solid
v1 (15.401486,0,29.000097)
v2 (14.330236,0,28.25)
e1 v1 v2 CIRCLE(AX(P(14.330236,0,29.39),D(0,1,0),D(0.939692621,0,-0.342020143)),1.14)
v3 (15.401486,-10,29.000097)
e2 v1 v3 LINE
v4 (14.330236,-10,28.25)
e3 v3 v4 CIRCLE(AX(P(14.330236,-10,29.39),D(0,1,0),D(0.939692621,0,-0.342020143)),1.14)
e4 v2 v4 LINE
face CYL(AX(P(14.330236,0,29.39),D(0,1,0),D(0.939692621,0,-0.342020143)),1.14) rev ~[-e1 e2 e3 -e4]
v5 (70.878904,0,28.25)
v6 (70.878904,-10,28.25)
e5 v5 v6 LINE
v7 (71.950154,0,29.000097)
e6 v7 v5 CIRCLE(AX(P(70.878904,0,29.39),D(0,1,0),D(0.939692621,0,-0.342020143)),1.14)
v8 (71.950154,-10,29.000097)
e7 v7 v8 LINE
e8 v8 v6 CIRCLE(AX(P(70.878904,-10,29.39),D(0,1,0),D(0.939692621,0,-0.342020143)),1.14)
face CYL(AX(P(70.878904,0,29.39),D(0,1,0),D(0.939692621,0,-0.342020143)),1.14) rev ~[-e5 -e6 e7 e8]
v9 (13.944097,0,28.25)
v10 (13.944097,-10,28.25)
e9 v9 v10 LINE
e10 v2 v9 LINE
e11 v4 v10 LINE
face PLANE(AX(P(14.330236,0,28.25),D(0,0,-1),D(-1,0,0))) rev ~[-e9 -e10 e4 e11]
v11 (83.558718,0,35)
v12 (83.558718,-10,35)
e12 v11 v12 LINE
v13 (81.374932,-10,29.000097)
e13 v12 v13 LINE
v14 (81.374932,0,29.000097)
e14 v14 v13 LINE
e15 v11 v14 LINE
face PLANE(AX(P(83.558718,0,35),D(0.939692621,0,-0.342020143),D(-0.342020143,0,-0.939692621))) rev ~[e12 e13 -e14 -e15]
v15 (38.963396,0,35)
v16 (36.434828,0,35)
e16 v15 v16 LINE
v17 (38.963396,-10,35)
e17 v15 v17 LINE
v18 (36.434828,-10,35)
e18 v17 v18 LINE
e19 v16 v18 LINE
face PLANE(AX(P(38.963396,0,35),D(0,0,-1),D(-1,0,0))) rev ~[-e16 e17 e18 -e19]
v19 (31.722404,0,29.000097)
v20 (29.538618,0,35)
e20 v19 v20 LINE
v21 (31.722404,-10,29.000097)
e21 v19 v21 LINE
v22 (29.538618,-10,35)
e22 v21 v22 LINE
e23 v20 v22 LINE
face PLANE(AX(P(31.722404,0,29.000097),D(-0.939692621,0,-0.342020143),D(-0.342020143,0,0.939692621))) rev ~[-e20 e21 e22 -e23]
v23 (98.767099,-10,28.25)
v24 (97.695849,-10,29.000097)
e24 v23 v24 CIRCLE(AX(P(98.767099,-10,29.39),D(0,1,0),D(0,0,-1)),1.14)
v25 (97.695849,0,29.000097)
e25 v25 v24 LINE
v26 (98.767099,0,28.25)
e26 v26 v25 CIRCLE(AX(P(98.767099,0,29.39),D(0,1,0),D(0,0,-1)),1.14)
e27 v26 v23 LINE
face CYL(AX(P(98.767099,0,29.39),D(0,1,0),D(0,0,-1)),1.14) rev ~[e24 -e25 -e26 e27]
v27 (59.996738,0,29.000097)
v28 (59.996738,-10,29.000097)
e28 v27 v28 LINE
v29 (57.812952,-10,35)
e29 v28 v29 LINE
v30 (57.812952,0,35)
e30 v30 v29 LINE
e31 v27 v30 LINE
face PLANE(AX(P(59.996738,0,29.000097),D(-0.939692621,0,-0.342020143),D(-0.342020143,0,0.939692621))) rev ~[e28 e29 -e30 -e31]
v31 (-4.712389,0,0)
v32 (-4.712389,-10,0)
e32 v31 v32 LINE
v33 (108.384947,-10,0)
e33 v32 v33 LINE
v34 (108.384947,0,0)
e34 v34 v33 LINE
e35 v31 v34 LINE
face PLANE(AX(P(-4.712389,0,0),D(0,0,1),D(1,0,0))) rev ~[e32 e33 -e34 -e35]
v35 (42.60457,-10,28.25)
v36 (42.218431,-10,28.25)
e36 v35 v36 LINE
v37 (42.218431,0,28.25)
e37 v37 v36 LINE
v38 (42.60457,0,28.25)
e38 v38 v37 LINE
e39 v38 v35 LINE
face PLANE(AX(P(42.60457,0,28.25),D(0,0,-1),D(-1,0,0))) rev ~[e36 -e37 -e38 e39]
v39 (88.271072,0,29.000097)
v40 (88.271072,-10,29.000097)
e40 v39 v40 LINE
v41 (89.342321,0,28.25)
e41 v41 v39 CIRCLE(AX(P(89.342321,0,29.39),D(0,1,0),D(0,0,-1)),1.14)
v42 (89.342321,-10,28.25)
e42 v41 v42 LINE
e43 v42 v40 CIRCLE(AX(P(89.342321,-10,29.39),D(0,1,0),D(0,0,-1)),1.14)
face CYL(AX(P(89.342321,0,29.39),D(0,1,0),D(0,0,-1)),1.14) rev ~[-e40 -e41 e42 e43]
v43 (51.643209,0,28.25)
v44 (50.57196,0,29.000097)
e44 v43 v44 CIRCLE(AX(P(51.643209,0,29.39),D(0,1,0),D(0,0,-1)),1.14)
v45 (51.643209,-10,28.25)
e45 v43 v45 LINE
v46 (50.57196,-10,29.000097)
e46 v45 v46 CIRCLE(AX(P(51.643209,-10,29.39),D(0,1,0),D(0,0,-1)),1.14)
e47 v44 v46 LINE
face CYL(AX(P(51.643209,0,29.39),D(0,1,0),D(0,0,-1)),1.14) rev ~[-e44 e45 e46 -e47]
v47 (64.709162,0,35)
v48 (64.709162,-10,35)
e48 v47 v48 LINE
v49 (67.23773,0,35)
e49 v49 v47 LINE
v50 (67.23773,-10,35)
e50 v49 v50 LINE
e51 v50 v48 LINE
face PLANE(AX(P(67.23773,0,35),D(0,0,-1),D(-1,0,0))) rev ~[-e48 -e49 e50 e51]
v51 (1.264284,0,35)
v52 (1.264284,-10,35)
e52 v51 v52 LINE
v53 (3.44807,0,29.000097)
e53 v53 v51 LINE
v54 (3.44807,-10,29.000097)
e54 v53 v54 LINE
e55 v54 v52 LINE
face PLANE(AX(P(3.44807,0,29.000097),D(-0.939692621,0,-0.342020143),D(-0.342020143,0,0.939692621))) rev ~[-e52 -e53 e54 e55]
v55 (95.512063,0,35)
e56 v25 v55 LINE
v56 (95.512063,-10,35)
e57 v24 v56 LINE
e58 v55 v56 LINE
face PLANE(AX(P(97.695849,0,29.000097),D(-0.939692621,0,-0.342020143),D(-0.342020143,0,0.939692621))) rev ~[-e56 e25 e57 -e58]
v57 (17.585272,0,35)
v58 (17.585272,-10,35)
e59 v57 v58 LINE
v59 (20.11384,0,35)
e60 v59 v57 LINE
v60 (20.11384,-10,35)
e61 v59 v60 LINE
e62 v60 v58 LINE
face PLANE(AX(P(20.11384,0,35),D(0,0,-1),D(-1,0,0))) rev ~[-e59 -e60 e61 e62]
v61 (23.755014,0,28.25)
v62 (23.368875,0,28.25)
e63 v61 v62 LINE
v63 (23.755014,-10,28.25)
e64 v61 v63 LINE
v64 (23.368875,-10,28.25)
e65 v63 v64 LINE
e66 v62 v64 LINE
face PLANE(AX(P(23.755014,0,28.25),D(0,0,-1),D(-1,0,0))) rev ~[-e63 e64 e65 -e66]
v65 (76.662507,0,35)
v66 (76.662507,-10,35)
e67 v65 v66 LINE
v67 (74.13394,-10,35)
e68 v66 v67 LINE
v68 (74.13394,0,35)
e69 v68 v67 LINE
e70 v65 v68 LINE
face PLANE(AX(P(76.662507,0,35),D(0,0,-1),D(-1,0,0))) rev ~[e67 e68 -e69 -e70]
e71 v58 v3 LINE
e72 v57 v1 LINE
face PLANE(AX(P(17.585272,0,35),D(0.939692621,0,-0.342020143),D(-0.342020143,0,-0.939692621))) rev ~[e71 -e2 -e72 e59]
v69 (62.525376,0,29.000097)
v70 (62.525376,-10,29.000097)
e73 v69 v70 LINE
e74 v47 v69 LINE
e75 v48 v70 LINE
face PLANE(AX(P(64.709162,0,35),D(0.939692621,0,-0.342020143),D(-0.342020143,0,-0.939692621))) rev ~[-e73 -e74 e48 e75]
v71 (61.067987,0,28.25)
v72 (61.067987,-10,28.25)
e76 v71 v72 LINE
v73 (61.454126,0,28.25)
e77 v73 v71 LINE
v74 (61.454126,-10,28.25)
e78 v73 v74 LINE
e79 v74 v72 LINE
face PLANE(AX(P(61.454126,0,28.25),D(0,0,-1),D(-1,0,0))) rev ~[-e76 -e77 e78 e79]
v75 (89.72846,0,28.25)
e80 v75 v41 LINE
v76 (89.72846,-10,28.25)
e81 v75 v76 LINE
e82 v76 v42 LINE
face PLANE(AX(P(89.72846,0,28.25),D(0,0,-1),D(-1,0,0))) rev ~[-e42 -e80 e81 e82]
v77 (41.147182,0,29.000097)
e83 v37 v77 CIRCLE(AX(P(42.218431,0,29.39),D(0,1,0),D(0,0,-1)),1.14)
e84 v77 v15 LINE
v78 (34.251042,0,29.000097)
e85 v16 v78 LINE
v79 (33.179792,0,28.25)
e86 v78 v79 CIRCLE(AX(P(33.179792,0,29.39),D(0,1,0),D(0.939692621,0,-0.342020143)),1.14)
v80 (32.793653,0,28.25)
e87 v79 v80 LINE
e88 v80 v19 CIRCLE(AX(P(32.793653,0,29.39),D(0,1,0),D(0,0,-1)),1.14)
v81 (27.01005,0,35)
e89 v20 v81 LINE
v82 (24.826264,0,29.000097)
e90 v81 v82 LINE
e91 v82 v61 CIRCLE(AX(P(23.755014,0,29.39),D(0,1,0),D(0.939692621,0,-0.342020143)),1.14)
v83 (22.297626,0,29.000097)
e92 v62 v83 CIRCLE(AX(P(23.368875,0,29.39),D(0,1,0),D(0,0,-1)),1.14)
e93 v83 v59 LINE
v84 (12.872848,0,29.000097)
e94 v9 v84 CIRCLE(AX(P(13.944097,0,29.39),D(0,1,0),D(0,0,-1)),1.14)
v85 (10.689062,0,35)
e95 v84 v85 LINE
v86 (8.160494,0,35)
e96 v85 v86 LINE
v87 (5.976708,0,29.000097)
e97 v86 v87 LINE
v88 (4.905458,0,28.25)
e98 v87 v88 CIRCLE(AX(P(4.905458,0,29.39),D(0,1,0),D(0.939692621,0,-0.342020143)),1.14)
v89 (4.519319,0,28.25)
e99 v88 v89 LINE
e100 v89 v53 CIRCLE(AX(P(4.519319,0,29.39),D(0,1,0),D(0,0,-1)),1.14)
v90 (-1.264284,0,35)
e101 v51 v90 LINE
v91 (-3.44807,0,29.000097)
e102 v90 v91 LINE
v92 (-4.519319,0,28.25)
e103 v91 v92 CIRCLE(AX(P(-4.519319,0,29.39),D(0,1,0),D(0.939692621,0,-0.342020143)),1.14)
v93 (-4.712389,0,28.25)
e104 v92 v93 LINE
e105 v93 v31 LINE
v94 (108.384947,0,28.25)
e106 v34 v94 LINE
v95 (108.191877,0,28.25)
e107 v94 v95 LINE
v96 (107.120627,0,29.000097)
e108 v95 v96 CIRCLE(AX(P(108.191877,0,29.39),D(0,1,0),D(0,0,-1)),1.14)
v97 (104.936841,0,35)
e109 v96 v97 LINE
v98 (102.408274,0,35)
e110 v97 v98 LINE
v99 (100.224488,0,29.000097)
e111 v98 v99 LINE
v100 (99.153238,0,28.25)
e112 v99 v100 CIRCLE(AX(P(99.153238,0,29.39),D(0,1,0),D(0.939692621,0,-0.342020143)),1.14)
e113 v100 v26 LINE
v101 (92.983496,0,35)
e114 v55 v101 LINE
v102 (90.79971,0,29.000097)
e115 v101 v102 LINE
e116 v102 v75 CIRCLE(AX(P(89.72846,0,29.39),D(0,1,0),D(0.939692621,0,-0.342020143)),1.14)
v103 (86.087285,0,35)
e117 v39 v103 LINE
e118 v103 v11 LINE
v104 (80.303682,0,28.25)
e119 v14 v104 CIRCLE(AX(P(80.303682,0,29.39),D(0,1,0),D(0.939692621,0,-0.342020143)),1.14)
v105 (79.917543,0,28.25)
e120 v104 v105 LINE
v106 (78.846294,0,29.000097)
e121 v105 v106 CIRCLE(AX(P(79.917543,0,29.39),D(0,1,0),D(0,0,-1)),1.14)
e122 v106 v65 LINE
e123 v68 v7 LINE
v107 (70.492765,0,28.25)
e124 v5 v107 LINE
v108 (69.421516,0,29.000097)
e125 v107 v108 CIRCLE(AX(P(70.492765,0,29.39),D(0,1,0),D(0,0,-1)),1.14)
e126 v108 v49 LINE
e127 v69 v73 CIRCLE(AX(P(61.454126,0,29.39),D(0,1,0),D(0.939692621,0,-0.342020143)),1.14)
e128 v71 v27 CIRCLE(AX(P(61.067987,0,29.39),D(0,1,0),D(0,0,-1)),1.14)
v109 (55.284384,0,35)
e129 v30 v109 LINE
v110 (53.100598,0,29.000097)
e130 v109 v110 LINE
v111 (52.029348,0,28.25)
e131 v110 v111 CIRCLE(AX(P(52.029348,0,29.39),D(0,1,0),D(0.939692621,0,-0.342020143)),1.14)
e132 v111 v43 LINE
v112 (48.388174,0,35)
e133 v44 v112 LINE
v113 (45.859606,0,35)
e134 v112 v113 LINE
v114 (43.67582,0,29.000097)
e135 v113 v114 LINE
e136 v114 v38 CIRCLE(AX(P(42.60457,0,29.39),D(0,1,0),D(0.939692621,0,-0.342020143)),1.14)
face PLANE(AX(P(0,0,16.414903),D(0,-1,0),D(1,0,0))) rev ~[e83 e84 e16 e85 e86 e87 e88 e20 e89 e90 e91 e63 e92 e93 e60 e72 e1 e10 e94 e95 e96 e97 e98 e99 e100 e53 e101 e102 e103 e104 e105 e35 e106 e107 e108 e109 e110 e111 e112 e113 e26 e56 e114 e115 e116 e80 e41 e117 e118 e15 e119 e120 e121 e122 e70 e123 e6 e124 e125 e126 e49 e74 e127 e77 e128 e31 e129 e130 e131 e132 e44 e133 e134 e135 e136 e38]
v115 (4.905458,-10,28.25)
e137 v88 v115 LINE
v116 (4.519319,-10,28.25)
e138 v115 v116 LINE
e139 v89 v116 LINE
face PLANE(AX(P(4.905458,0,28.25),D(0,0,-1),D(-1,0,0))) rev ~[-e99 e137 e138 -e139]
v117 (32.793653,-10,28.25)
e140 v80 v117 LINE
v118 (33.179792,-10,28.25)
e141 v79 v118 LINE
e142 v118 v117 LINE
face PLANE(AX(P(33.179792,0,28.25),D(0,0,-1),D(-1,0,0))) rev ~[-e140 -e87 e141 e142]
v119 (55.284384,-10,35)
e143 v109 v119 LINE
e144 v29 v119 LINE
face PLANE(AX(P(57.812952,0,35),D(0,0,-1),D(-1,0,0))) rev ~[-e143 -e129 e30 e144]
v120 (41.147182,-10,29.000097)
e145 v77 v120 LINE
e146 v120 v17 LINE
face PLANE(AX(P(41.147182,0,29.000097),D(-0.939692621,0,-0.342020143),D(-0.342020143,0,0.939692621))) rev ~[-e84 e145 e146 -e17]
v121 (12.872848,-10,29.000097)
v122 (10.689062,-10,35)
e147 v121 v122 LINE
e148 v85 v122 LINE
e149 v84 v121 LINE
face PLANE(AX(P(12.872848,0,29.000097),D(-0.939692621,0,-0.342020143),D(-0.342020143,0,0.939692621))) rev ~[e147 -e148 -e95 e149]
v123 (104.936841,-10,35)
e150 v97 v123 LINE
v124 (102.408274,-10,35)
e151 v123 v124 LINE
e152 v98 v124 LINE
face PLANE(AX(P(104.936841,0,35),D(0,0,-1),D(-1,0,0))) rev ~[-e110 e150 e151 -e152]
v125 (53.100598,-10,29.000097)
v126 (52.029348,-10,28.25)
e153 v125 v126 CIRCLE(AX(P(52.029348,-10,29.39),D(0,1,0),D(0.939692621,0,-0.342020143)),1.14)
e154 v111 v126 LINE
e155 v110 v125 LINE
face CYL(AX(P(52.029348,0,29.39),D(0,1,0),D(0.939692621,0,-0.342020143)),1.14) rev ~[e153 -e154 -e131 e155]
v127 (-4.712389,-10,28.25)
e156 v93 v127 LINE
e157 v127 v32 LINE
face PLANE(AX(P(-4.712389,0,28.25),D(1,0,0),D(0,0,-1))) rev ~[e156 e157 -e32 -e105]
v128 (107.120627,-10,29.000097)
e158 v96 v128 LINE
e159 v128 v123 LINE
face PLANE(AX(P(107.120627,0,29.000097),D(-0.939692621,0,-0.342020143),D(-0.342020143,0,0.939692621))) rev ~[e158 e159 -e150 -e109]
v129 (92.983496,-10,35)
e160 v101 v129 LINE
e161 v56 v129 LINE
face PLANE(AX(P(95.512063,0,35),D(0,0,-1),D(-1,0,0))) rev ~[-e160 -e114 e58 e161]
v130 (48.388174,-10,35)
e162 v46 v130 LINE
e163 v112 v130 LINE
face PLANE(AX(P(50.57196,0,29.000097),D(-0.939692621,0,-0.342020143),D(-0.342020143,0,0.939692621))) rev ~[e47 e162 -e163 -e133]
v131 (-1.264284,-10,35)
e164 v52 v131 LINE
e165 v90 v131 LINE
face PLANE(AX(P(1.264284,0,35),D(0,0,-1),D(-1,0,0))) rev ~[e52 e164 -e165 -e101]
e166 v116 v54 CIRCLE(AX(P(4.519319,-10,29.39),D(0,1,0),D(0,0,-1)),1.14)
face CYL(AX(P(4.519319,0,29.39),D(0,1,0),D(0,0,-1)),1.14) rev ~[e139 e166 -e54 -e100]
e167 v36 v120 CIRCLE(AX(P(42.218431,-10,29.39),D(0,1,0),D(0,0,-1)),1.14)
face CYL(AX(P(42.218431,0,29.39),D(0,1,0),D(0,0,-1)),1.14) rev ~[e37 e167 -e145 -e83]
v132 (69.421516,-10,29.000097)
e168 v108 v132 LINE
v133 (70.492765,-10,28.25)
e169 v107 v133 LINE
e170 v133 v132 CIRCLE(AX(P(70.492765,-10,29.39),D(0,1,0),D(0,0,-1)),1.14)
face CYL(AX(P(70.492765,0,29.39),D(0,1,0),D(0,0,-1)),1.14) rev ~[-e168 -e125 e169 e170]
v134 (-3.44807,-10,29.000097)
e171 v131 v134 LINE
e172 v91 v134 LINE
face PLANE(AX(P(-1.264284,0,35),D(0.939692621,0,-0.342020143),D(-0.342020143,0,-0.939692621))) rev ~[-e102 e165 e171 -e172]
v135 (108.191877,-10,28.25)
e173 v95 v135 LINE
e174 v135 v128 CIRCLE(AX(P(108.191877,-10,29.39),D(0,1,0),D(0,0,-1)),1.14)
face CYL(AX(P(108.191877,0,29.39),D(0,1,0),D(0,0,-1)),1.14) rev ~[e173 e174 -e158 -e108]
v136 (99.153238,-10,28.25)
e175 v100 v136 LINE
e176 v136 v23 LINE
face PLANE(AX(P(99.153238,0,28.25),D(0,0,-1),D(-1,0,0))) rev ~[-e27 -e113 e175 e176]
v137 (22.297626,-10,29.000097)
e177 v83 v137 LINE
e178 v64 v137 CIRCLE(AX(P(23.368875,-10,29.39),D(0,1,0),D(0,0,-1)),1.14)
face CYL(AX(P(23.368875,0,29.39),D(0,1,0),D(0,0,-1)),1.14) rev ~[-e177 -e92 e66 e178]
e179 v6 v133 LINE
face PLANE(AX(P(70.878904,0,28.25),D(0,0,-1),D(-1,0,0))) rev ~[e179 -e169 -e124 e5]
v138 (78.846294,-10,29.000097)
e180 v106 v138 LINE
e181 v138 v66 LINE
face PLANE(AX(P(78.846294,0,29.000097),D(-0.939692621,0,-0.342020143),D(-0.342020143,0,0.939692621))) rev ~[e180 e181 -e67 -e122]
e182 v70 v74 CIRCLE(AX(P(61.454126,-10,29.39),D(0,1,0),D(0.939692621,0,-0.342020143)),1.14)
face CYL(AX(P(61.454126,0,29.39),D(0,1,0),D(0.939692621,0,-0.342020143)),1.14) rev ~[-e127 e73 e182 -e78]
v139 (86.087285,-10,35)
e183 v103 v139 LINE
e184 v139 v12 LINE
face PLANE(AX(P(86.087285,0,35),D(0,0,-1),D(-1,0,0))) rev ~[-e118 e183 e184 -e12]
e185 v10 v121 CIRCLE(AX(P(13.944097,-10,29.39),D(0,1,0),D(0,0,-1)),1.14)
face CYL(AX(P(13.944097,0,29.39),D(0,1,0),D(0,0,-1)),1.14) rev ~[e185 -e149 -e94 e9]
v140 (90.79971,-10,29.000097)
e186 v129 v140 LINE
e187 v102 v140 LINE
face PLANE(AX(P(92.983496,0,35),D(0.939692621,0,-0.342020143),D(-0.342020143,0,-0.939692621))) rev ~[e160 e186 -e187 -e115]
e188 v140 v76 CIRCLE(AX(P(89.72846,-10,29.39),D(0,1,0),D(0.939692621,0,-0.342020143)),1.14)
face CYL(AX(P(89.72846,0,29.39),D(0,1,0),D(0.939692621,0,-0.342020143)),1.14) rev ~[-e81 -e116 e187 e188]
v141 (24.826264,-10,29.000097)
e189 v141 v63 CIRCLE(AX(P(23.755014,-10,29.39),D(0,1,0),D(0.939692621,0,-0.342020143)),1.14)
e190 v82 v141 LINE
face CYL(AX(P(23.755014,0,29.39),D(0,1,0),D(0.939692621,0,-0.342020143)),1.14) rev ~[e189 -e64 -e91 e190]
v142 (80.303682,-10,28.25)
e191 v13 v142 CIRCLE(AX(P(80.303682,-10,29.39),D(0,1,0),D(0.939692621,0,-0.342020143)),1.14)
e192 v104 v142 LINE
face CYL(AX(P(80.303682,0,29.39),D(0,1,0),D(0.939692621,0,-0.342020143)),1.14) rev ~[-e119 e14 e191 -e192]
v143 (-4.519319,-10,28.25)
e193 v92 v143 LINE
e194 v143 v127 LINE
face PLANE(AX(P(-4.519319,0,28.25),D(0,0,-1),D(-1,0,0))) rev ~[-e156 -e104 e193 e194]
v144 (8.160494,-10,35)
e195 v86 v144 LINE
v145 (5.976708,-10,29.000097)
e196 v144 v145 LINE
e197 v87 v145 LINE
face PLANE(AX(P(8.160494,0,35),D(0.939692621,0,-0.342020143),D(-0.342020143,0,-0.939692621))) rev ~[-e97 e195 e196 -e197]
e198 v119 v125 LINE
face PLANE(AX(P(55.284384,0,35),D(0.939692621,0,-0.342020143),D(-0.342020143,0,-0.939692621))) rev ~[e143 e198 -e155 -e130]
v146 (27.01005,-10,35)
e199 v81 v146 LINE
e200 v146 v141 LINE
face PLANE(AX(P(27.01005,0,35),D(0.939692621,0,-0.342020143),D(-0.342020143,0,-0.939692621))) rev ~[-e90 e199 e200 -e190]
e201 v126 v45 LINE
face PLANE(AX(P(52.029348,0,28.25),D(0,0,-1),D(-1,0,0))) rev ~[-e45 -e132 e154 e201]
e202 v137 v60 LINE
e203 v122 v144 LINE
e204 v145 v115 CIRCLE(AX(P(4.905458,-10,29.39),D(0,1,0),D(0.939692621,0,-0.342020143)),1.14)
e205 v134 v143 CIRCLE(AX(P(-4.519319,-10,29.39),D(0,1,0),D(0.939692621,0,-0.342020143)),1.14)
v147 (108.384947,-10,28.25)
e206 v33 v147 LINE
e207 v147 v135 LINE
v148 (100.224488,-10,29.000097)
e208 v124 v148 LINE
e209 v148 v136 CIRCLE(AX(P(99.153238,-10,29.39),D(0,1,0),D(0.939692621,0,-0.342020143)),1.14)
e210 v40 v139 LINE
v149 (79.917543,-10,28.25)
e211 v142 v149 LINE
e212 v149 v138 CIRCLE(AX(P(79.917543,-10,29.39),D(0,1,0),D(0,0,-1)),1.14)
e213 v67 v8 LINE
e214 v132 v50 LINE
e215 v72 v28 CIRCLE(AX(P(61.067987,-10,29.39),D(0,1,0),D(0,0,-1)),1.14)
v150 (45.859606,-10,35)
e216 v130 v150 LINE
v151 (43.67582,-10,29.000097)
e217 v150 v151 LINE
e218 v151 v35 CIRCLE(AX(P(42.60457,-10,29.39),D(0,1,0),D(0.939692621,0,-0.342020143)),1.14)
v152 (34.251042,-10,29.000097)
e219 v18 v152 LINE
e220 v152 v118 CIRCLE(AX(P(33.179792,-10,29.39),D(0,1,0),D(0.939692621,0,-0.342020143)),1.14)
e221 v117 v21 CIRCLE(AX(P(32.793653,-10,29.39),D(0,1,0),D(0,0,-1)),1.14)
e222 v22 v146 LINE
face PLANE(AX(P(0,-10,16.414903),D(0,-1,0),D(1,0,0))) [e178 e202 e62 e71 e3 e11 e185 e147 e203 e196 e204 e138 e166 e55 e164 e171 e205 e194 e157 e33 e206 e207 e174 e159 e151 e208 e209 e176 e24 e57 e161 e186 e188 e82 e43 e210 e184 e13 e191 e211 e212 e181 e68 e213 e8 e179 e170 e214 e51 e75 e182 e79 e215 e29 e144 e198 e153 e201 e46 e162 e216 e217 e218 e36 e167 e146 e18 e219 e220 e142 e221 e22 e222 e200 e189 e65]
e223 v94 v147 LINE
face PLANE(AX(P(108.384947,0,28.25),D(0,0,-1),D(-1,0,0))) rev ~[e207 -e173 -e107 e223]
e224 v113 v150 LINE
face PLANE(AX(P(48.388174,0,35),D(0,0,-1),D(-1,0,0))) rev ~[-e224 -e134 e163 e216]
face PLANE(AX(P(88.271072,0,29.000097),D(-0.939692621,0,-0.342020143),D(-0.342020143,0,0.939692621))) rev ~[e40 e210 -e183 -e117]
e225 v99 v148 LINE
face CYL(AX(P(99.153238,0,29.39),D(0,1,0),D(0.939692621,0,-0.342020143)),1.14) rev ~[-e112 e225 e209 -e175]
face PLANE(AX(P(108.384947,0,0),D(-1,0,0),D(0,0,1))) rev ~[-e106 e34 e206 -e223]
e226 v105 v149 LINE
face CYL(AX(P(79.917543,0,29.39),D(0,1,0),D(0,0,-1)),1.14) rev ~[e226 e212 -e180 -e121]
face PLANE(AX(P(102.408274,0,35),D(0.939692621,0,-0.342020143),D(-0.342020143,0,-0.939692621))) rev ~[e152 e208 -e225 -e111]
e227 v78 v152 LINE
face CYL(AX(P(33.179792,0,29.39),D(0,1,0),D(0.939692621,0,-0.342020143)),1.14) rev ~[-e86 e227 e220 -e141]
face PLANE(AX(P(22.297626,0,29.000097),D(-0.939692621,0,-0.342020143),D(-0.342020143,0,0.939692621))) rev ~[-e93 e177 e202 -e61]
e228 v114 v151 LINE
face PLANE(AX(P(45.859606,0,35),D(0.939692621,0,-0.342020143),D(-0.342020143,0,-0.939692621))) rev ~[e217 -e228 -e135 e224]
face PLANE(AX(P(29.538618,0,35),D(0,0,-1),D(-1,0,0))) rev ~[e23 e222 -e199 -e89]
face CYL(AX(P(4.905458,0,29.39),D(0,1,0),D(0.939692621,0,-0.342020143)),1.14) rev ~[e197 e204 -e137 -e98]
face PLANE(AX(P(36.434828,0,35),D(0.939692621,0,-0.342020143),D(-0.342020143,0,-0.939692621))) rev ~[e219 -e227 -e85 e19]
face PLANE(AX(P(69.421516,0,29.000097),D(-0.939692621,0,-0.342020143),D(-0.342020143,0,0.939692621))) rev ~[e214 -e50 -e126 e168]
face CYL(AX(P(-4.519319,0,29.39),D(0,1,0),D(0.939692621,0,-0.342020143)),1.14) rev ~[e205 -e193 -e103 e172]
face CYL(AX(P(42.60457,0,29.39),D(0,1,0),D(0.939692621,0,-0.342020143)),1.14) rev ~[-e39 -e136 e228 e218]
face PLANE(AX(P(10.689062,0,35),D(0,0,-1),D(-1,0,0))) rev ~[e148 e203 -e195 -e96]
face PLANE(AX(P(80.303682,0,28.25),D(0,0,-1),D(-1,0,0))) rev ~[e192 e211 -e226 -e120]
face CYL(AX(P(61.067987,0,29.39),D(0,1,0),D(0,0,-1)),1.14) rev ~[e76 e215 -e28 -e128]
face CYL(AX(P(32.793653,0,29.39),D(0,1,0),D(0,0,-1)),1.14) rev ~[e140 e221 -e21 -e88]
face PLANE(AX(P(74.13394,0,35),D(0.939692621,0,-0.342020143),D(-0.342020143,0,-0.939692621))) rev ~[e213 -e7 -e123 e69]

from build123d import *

# Parameters (mm, degrees)
F2_DEPTH = 10


with BuildPart() as f2:
    # F1 (on Front) → F2 (new body)
    with BuildSketch(Plane.XZ):
        with BuildLine():
            Line((3.4480698746, 29.0000970366), (1.2642837874, 35))
            Line((1.2642837874, 35), (-1.2642837874, 35))
            Line((-1.2642837874, 35), (-3.4480698746, 29.0000970366))
            ThreePointArc((-3.4480698746, 29.0000970366), (-3.8654423248, 28.4561666695), (-4.5193194622, 28.25))
            Line((-4.5193194622, 28.25), (-4.7123889804, 28.25))
            Line((-4.7123889804, 28.25), (-4.7123889804, 0))
            Line((-4.7123889804, 0), (4.7123889804, 0))
            Line((4.7123889804, 0), (4.7123889804, 28.25))
            Line((4.7123889804, 28.25), (4.5193194622, 28.25))
            ThreePointArc((4.5193194622, 28.25), (3.8654423248, 28.4561666695), (3.4480698746, 29.0000970366))
        make_face()
        with BuildLine():
            Line((4.9054584985, 28.25), (4.7123889804, 28.25))
            Line((4.7123889804, 28.25), (4.7123889804, 0))
            Line((4.7123889804, 0), (14.1371669412, 0))
            Line((14.1371669412, 0), (14.1371669412, 28.25))
            Line((14.1371669412, 28.25), (13.944097423, 28.25))
            ThreePointArc((13.944097423, 28.25), (13.2902202856, 28.4561666695), (12.8728478353, 29.0000970366))
            Line((12.8728478353, 29.0000970366), (10.6890617482, 35))
            Line((10.6890617482, 35), (8.1604941734, 35))
            Line((8.1604941734, 35), (5.9767080862, 29.0000970366))
            ThreePointArc((5.9767080862, 29.0000970366), (5.559335636, 28.4561666695), (4.9054584985, 28.25))
        make_face()
        with BuildLine():
            Line((14.1371669412, 28.25), (14.1371669412, 0))
            Line((14.1371669412, 0), (23.5619449019, 0))
            Line((23.5619449019, 0), (23.5619449019, 28.25))
            Line((23.5619449019, 28.25), (23.3688753838, 28.25))
            ThreePointArc((23.3688753838, 28.25), (22.7149982463, 28.4561666695), (22.2976257961, 29.0000970366))
            Line((22.2976257961, 29.0000970366), (20.1138397089, 35))
            Line((20.1138397089, 35), (17.5852721341, 35))
            Line((17.5852721341, 35), (15.401486047, 29.0000970366))
            ThreePointArc((15.401486047, 29.0000970366), (14.9841135967, 28.4561666695), (14.3302364593, 28.25))
            Line((14.3302364593, 28.25), (14.1371669412, 28.25))
        make_face()
        with BuildLine():
            Line((23.5619449019, 28.25), (23.5619449019, 0))
            Line((23.5619449019, 0), (32.9867228627, 0))
            Line((32.9867228627, 0), (32.9867228627, 28.25))
            Line((32.9867228627, 28.25), (32.7936533446, 28.25))
            ThreePointArc((32.7936533446, 28.25), (32.1397762071, 28.4561666695), (31.7224037569, 29.0000970366))
            Line((31.7224037569, 29.0000970366), (29.5386176697, 35))
            Line((29.5386176697, 35), (27.0100500949, 35))
            Line((27.0100500949, 35), (24.8262640078, 29.0000970366))
            ThreePointArc((24.8262640078, 29.0000970366), (24.4088915575, 28.4561666695), (23.7550144201, 28.25))
            Line((23.7550144201, 28.25), (23.5619449019, 28.25))
        make_face()
        with BuildLine():
            Line((32.9867228627, 28.25), (32.9867228627, 0))
            Line((32.9867228627, 0), (42.4115008235, 0))
            Line((42.4115008235, 0), (42.4115008235, 28.25))
            Line((42.4115008235, 28.25), (42.2184313053, 28.25))
            ThreePointArc((42.2184313053, 28.25), (41.5645541679, 28.4561666695), (41.1471817176, 29.0000970366))
            Line((41.1471817176, 29.0000970366), (38.9633956305, 35))
            Line((38.9633956305, 35), (36.4348280557, 35))
            Line((36.4348280557, 35), (34.2510419685, 29.0000970366))
            ThreePointArc((34.2510419685, 29.0000970366), (33.8336695183, 28.4561666695), (33.1797923808, 28.25))
            Line((33.1797923808, 28.25), (32.9867228627, 28.25))
        make_face()
        with BuildLine():
            Line((42.4115008235, 28.25), (42.4115008235, 0))
            Line((42.4115008235, 0), (51.8362787842, 0))
            Line((51.8362787842, 0), (51.8362787842, 28.25))
            Line((51.8362787842, 28.25), (51.6432092661, 28.25))
            ThreePointArc((51.6432092661, 28.25), (50.9893321287, 28.4561666695), (50.5719596784, 29.0000970366))
            Line((50.5719596784, 29.0000970366), (48.3881735912, 35))
            Line((48.3881735912, 35), (45.8596060165, 35))
            Line((45.8596060165, 35), (43.6758199293, 29.0000970366))
            ThreePointArc((43.6758199293, 29.0000970366), (43.258447479, 28.4561666695), (42.6045703416, 28.25))
            Line((42.6045703416, 28.25), (42.4115008235, 28.25))
        make_face()
        with BuildLine():
            Line((51.8362787842, 28.25), (51.8362787842, 0))
            Line((51.8362787842, 0), (61.261056745, 0))
            Line((61.261056745, 0), (61.261056745, 28.25))
            Line((61.261056745, 28.25), (61.0679872269, 28.25))
            ThreePointArc((61.0679872269, 28.25), (60.4141100894, 28.4561666695), (59.9967376392, 29.0000970366))
            Line((59.9967376392, 29.0000970366), (57.812951552, 35))
            Line((57.812951552, 35), (55.2843839772, 35))
            Line((55.2843839772, 35), (53.1005978901, 29.0000970366))
            ThreePointArc((53.1005978901, 29.0000970366), (52.6832254398, 28.4561666695), (52.0293483024, 28.25))
            Line((52.0293483024, 28.25), (51.8362787842, 28.25))
        make_face()
        with BuildLine():
            Line((61.261056745, 28.25), (61.261056745, 0))
            Line((61.261056745, 0), (70.6858347058, 0))
            Line((70.6858347058, 0), (70.6858347058, 28.25))
            Line((70.6858347058, 28.25), (70.4927651876, 28.25))
            ThreePointArc((70.4927651876, 28.25), (69.8388880502, 28.4561666695), (69.4215155999, 29.0000970366))
            Line((69.4215155999, 29.0000970366), (67.2377295128, 35))
            Line((67.2377295128, 35), (64.709161938, 35))
            Line((64.709161938, 35), (62.5253758508, 29.0000970366))
            ThreePointArc((62.5253758508, 29.0000970366), (62.1080034006, 28.4561666695), (61.4541262631, 28.25))
            Line((61.4541262631, 28.25), (61.261056745, 28.25))
        make_face()
        with BuildLine():
            Line((70.6858347058, 28.25), (70.6858347058, 0))
            Line((70.6858347058, 0), (80.1106126665, 0))
            Line((80.1106126665, 0), (80.1106126665, 28.25))
            Line((80.1106126665, 28.25), (79.9175431484, 28.25))
            ThreePointArc((79.9175431484, 28.25), (79.263666011, 28.4561666695), (78.8462935607, 29.0000970366))
            Line((78.8462935607, 29.0000970366), (76.6625074735, 35))
            Line((76.6625074735, 35), (74.1339398988, 35))
            Line((74.1339398988, 35), (71.9501538116, 29.0000970366))
            ThreePointArc((71.9501538116, 29.0000970366), (71.5327813613, 28.4561666695), (70.8789042239, 28.25))
            Line((70.8789042239, 28.25), (70.6858347058, 28.25))
        make_face()
        with BuildLine():
            Line((80.1106126665, 28.25), (80.1106126665, 0))
            Line((80.1106126665, 0), (89.5353906273, 0))
            Line((89.5353906273, 0), (89.5353906273, 28.25))
            Line((89.5353906273, 28.25), (89.3423211092, 28.25))
            ThreePointArc((89.3423211092, 28.25), (88.6884439717, 28.4561666695), (88.2710715215, 29.0000970366))
            Line((88.2710715215, 29.0000970366), (86.0872854343, 35))
            Line((86.0872854343, 35), (83.5587178595, 35))
            Line((83.5587178595, 35), (81.3749317724, 29.0000970366))
            ThreePointArc((81.3749317724, 29.0000970366), (80.9575593221, 28.4561666695), (80.3036821847, 28.25))
            Line((80.3036821847, 28.25), (80.1106126665, 28.25))
        make_face()
        with BuildLine():
            Line((89.5353906273, 28.25), (89.5353906273, 0))
            Line((89.5353906273, 0), (98.9601685881, 0))
            Line((98.9601685881, 0), (98.9601685881, 28.25))
            Line((98.9601685881, 28.25), (98.7670990699, 28.25))
            ThreePointArc((98.7670990699, 28.25), (98.1132219325, 28.4561666695), (97.6958494822, 29.0000970366))
            Line((97.6958494822, 29.0000970366), (95.5120633951, 35))
            Line((95.5120633951, 35), (92.9834958203, 35))
            Line((92.9834958203, 35), (90.7997097331, 29.0000970366))
            ThreePointArc((90.7997097331, 29.0000970366), (90.3823372829, 28.4561666695), (89.7284601454, 28.25))
            Line((89.7284601454, 28.25), (89.5353906273, 28.25))
        make_face()
        with BuildLine():
            Line((98.9601685881, 28.25), (98.9601685881, 0))
            Line((98.9601685881, 0), (108.3849465488, 0))
            Line((108.3849465488, 0), (108.3849465488, 28.25))
            Line((108.3849465488, 28.25), (108.1918770307, 28.25))
            ThreePointArc((108.1918770307, 28.25), (107.5379998933, 28.4561666695), (107.120627443, 29.0000970366))
            Line((107.120627443, 29.0000970366), (104.9368413559, 35))
            Line((104.9368413559, 35), (102.4082737811, 35))
            Line((102.4082737811, 35), (100.2244876939, 29.0000970366))
            ThreePointArc((100.2244876939, 29.0000970366), (99.8071152437, 28.4561666695), (99.1532381062, 28.25))
            Line((99.1532381062, 28.25), (98.9601685881, 28.25))
        make_face()
    extrude(amount=F2_DEPTH)


solid = f2.part
